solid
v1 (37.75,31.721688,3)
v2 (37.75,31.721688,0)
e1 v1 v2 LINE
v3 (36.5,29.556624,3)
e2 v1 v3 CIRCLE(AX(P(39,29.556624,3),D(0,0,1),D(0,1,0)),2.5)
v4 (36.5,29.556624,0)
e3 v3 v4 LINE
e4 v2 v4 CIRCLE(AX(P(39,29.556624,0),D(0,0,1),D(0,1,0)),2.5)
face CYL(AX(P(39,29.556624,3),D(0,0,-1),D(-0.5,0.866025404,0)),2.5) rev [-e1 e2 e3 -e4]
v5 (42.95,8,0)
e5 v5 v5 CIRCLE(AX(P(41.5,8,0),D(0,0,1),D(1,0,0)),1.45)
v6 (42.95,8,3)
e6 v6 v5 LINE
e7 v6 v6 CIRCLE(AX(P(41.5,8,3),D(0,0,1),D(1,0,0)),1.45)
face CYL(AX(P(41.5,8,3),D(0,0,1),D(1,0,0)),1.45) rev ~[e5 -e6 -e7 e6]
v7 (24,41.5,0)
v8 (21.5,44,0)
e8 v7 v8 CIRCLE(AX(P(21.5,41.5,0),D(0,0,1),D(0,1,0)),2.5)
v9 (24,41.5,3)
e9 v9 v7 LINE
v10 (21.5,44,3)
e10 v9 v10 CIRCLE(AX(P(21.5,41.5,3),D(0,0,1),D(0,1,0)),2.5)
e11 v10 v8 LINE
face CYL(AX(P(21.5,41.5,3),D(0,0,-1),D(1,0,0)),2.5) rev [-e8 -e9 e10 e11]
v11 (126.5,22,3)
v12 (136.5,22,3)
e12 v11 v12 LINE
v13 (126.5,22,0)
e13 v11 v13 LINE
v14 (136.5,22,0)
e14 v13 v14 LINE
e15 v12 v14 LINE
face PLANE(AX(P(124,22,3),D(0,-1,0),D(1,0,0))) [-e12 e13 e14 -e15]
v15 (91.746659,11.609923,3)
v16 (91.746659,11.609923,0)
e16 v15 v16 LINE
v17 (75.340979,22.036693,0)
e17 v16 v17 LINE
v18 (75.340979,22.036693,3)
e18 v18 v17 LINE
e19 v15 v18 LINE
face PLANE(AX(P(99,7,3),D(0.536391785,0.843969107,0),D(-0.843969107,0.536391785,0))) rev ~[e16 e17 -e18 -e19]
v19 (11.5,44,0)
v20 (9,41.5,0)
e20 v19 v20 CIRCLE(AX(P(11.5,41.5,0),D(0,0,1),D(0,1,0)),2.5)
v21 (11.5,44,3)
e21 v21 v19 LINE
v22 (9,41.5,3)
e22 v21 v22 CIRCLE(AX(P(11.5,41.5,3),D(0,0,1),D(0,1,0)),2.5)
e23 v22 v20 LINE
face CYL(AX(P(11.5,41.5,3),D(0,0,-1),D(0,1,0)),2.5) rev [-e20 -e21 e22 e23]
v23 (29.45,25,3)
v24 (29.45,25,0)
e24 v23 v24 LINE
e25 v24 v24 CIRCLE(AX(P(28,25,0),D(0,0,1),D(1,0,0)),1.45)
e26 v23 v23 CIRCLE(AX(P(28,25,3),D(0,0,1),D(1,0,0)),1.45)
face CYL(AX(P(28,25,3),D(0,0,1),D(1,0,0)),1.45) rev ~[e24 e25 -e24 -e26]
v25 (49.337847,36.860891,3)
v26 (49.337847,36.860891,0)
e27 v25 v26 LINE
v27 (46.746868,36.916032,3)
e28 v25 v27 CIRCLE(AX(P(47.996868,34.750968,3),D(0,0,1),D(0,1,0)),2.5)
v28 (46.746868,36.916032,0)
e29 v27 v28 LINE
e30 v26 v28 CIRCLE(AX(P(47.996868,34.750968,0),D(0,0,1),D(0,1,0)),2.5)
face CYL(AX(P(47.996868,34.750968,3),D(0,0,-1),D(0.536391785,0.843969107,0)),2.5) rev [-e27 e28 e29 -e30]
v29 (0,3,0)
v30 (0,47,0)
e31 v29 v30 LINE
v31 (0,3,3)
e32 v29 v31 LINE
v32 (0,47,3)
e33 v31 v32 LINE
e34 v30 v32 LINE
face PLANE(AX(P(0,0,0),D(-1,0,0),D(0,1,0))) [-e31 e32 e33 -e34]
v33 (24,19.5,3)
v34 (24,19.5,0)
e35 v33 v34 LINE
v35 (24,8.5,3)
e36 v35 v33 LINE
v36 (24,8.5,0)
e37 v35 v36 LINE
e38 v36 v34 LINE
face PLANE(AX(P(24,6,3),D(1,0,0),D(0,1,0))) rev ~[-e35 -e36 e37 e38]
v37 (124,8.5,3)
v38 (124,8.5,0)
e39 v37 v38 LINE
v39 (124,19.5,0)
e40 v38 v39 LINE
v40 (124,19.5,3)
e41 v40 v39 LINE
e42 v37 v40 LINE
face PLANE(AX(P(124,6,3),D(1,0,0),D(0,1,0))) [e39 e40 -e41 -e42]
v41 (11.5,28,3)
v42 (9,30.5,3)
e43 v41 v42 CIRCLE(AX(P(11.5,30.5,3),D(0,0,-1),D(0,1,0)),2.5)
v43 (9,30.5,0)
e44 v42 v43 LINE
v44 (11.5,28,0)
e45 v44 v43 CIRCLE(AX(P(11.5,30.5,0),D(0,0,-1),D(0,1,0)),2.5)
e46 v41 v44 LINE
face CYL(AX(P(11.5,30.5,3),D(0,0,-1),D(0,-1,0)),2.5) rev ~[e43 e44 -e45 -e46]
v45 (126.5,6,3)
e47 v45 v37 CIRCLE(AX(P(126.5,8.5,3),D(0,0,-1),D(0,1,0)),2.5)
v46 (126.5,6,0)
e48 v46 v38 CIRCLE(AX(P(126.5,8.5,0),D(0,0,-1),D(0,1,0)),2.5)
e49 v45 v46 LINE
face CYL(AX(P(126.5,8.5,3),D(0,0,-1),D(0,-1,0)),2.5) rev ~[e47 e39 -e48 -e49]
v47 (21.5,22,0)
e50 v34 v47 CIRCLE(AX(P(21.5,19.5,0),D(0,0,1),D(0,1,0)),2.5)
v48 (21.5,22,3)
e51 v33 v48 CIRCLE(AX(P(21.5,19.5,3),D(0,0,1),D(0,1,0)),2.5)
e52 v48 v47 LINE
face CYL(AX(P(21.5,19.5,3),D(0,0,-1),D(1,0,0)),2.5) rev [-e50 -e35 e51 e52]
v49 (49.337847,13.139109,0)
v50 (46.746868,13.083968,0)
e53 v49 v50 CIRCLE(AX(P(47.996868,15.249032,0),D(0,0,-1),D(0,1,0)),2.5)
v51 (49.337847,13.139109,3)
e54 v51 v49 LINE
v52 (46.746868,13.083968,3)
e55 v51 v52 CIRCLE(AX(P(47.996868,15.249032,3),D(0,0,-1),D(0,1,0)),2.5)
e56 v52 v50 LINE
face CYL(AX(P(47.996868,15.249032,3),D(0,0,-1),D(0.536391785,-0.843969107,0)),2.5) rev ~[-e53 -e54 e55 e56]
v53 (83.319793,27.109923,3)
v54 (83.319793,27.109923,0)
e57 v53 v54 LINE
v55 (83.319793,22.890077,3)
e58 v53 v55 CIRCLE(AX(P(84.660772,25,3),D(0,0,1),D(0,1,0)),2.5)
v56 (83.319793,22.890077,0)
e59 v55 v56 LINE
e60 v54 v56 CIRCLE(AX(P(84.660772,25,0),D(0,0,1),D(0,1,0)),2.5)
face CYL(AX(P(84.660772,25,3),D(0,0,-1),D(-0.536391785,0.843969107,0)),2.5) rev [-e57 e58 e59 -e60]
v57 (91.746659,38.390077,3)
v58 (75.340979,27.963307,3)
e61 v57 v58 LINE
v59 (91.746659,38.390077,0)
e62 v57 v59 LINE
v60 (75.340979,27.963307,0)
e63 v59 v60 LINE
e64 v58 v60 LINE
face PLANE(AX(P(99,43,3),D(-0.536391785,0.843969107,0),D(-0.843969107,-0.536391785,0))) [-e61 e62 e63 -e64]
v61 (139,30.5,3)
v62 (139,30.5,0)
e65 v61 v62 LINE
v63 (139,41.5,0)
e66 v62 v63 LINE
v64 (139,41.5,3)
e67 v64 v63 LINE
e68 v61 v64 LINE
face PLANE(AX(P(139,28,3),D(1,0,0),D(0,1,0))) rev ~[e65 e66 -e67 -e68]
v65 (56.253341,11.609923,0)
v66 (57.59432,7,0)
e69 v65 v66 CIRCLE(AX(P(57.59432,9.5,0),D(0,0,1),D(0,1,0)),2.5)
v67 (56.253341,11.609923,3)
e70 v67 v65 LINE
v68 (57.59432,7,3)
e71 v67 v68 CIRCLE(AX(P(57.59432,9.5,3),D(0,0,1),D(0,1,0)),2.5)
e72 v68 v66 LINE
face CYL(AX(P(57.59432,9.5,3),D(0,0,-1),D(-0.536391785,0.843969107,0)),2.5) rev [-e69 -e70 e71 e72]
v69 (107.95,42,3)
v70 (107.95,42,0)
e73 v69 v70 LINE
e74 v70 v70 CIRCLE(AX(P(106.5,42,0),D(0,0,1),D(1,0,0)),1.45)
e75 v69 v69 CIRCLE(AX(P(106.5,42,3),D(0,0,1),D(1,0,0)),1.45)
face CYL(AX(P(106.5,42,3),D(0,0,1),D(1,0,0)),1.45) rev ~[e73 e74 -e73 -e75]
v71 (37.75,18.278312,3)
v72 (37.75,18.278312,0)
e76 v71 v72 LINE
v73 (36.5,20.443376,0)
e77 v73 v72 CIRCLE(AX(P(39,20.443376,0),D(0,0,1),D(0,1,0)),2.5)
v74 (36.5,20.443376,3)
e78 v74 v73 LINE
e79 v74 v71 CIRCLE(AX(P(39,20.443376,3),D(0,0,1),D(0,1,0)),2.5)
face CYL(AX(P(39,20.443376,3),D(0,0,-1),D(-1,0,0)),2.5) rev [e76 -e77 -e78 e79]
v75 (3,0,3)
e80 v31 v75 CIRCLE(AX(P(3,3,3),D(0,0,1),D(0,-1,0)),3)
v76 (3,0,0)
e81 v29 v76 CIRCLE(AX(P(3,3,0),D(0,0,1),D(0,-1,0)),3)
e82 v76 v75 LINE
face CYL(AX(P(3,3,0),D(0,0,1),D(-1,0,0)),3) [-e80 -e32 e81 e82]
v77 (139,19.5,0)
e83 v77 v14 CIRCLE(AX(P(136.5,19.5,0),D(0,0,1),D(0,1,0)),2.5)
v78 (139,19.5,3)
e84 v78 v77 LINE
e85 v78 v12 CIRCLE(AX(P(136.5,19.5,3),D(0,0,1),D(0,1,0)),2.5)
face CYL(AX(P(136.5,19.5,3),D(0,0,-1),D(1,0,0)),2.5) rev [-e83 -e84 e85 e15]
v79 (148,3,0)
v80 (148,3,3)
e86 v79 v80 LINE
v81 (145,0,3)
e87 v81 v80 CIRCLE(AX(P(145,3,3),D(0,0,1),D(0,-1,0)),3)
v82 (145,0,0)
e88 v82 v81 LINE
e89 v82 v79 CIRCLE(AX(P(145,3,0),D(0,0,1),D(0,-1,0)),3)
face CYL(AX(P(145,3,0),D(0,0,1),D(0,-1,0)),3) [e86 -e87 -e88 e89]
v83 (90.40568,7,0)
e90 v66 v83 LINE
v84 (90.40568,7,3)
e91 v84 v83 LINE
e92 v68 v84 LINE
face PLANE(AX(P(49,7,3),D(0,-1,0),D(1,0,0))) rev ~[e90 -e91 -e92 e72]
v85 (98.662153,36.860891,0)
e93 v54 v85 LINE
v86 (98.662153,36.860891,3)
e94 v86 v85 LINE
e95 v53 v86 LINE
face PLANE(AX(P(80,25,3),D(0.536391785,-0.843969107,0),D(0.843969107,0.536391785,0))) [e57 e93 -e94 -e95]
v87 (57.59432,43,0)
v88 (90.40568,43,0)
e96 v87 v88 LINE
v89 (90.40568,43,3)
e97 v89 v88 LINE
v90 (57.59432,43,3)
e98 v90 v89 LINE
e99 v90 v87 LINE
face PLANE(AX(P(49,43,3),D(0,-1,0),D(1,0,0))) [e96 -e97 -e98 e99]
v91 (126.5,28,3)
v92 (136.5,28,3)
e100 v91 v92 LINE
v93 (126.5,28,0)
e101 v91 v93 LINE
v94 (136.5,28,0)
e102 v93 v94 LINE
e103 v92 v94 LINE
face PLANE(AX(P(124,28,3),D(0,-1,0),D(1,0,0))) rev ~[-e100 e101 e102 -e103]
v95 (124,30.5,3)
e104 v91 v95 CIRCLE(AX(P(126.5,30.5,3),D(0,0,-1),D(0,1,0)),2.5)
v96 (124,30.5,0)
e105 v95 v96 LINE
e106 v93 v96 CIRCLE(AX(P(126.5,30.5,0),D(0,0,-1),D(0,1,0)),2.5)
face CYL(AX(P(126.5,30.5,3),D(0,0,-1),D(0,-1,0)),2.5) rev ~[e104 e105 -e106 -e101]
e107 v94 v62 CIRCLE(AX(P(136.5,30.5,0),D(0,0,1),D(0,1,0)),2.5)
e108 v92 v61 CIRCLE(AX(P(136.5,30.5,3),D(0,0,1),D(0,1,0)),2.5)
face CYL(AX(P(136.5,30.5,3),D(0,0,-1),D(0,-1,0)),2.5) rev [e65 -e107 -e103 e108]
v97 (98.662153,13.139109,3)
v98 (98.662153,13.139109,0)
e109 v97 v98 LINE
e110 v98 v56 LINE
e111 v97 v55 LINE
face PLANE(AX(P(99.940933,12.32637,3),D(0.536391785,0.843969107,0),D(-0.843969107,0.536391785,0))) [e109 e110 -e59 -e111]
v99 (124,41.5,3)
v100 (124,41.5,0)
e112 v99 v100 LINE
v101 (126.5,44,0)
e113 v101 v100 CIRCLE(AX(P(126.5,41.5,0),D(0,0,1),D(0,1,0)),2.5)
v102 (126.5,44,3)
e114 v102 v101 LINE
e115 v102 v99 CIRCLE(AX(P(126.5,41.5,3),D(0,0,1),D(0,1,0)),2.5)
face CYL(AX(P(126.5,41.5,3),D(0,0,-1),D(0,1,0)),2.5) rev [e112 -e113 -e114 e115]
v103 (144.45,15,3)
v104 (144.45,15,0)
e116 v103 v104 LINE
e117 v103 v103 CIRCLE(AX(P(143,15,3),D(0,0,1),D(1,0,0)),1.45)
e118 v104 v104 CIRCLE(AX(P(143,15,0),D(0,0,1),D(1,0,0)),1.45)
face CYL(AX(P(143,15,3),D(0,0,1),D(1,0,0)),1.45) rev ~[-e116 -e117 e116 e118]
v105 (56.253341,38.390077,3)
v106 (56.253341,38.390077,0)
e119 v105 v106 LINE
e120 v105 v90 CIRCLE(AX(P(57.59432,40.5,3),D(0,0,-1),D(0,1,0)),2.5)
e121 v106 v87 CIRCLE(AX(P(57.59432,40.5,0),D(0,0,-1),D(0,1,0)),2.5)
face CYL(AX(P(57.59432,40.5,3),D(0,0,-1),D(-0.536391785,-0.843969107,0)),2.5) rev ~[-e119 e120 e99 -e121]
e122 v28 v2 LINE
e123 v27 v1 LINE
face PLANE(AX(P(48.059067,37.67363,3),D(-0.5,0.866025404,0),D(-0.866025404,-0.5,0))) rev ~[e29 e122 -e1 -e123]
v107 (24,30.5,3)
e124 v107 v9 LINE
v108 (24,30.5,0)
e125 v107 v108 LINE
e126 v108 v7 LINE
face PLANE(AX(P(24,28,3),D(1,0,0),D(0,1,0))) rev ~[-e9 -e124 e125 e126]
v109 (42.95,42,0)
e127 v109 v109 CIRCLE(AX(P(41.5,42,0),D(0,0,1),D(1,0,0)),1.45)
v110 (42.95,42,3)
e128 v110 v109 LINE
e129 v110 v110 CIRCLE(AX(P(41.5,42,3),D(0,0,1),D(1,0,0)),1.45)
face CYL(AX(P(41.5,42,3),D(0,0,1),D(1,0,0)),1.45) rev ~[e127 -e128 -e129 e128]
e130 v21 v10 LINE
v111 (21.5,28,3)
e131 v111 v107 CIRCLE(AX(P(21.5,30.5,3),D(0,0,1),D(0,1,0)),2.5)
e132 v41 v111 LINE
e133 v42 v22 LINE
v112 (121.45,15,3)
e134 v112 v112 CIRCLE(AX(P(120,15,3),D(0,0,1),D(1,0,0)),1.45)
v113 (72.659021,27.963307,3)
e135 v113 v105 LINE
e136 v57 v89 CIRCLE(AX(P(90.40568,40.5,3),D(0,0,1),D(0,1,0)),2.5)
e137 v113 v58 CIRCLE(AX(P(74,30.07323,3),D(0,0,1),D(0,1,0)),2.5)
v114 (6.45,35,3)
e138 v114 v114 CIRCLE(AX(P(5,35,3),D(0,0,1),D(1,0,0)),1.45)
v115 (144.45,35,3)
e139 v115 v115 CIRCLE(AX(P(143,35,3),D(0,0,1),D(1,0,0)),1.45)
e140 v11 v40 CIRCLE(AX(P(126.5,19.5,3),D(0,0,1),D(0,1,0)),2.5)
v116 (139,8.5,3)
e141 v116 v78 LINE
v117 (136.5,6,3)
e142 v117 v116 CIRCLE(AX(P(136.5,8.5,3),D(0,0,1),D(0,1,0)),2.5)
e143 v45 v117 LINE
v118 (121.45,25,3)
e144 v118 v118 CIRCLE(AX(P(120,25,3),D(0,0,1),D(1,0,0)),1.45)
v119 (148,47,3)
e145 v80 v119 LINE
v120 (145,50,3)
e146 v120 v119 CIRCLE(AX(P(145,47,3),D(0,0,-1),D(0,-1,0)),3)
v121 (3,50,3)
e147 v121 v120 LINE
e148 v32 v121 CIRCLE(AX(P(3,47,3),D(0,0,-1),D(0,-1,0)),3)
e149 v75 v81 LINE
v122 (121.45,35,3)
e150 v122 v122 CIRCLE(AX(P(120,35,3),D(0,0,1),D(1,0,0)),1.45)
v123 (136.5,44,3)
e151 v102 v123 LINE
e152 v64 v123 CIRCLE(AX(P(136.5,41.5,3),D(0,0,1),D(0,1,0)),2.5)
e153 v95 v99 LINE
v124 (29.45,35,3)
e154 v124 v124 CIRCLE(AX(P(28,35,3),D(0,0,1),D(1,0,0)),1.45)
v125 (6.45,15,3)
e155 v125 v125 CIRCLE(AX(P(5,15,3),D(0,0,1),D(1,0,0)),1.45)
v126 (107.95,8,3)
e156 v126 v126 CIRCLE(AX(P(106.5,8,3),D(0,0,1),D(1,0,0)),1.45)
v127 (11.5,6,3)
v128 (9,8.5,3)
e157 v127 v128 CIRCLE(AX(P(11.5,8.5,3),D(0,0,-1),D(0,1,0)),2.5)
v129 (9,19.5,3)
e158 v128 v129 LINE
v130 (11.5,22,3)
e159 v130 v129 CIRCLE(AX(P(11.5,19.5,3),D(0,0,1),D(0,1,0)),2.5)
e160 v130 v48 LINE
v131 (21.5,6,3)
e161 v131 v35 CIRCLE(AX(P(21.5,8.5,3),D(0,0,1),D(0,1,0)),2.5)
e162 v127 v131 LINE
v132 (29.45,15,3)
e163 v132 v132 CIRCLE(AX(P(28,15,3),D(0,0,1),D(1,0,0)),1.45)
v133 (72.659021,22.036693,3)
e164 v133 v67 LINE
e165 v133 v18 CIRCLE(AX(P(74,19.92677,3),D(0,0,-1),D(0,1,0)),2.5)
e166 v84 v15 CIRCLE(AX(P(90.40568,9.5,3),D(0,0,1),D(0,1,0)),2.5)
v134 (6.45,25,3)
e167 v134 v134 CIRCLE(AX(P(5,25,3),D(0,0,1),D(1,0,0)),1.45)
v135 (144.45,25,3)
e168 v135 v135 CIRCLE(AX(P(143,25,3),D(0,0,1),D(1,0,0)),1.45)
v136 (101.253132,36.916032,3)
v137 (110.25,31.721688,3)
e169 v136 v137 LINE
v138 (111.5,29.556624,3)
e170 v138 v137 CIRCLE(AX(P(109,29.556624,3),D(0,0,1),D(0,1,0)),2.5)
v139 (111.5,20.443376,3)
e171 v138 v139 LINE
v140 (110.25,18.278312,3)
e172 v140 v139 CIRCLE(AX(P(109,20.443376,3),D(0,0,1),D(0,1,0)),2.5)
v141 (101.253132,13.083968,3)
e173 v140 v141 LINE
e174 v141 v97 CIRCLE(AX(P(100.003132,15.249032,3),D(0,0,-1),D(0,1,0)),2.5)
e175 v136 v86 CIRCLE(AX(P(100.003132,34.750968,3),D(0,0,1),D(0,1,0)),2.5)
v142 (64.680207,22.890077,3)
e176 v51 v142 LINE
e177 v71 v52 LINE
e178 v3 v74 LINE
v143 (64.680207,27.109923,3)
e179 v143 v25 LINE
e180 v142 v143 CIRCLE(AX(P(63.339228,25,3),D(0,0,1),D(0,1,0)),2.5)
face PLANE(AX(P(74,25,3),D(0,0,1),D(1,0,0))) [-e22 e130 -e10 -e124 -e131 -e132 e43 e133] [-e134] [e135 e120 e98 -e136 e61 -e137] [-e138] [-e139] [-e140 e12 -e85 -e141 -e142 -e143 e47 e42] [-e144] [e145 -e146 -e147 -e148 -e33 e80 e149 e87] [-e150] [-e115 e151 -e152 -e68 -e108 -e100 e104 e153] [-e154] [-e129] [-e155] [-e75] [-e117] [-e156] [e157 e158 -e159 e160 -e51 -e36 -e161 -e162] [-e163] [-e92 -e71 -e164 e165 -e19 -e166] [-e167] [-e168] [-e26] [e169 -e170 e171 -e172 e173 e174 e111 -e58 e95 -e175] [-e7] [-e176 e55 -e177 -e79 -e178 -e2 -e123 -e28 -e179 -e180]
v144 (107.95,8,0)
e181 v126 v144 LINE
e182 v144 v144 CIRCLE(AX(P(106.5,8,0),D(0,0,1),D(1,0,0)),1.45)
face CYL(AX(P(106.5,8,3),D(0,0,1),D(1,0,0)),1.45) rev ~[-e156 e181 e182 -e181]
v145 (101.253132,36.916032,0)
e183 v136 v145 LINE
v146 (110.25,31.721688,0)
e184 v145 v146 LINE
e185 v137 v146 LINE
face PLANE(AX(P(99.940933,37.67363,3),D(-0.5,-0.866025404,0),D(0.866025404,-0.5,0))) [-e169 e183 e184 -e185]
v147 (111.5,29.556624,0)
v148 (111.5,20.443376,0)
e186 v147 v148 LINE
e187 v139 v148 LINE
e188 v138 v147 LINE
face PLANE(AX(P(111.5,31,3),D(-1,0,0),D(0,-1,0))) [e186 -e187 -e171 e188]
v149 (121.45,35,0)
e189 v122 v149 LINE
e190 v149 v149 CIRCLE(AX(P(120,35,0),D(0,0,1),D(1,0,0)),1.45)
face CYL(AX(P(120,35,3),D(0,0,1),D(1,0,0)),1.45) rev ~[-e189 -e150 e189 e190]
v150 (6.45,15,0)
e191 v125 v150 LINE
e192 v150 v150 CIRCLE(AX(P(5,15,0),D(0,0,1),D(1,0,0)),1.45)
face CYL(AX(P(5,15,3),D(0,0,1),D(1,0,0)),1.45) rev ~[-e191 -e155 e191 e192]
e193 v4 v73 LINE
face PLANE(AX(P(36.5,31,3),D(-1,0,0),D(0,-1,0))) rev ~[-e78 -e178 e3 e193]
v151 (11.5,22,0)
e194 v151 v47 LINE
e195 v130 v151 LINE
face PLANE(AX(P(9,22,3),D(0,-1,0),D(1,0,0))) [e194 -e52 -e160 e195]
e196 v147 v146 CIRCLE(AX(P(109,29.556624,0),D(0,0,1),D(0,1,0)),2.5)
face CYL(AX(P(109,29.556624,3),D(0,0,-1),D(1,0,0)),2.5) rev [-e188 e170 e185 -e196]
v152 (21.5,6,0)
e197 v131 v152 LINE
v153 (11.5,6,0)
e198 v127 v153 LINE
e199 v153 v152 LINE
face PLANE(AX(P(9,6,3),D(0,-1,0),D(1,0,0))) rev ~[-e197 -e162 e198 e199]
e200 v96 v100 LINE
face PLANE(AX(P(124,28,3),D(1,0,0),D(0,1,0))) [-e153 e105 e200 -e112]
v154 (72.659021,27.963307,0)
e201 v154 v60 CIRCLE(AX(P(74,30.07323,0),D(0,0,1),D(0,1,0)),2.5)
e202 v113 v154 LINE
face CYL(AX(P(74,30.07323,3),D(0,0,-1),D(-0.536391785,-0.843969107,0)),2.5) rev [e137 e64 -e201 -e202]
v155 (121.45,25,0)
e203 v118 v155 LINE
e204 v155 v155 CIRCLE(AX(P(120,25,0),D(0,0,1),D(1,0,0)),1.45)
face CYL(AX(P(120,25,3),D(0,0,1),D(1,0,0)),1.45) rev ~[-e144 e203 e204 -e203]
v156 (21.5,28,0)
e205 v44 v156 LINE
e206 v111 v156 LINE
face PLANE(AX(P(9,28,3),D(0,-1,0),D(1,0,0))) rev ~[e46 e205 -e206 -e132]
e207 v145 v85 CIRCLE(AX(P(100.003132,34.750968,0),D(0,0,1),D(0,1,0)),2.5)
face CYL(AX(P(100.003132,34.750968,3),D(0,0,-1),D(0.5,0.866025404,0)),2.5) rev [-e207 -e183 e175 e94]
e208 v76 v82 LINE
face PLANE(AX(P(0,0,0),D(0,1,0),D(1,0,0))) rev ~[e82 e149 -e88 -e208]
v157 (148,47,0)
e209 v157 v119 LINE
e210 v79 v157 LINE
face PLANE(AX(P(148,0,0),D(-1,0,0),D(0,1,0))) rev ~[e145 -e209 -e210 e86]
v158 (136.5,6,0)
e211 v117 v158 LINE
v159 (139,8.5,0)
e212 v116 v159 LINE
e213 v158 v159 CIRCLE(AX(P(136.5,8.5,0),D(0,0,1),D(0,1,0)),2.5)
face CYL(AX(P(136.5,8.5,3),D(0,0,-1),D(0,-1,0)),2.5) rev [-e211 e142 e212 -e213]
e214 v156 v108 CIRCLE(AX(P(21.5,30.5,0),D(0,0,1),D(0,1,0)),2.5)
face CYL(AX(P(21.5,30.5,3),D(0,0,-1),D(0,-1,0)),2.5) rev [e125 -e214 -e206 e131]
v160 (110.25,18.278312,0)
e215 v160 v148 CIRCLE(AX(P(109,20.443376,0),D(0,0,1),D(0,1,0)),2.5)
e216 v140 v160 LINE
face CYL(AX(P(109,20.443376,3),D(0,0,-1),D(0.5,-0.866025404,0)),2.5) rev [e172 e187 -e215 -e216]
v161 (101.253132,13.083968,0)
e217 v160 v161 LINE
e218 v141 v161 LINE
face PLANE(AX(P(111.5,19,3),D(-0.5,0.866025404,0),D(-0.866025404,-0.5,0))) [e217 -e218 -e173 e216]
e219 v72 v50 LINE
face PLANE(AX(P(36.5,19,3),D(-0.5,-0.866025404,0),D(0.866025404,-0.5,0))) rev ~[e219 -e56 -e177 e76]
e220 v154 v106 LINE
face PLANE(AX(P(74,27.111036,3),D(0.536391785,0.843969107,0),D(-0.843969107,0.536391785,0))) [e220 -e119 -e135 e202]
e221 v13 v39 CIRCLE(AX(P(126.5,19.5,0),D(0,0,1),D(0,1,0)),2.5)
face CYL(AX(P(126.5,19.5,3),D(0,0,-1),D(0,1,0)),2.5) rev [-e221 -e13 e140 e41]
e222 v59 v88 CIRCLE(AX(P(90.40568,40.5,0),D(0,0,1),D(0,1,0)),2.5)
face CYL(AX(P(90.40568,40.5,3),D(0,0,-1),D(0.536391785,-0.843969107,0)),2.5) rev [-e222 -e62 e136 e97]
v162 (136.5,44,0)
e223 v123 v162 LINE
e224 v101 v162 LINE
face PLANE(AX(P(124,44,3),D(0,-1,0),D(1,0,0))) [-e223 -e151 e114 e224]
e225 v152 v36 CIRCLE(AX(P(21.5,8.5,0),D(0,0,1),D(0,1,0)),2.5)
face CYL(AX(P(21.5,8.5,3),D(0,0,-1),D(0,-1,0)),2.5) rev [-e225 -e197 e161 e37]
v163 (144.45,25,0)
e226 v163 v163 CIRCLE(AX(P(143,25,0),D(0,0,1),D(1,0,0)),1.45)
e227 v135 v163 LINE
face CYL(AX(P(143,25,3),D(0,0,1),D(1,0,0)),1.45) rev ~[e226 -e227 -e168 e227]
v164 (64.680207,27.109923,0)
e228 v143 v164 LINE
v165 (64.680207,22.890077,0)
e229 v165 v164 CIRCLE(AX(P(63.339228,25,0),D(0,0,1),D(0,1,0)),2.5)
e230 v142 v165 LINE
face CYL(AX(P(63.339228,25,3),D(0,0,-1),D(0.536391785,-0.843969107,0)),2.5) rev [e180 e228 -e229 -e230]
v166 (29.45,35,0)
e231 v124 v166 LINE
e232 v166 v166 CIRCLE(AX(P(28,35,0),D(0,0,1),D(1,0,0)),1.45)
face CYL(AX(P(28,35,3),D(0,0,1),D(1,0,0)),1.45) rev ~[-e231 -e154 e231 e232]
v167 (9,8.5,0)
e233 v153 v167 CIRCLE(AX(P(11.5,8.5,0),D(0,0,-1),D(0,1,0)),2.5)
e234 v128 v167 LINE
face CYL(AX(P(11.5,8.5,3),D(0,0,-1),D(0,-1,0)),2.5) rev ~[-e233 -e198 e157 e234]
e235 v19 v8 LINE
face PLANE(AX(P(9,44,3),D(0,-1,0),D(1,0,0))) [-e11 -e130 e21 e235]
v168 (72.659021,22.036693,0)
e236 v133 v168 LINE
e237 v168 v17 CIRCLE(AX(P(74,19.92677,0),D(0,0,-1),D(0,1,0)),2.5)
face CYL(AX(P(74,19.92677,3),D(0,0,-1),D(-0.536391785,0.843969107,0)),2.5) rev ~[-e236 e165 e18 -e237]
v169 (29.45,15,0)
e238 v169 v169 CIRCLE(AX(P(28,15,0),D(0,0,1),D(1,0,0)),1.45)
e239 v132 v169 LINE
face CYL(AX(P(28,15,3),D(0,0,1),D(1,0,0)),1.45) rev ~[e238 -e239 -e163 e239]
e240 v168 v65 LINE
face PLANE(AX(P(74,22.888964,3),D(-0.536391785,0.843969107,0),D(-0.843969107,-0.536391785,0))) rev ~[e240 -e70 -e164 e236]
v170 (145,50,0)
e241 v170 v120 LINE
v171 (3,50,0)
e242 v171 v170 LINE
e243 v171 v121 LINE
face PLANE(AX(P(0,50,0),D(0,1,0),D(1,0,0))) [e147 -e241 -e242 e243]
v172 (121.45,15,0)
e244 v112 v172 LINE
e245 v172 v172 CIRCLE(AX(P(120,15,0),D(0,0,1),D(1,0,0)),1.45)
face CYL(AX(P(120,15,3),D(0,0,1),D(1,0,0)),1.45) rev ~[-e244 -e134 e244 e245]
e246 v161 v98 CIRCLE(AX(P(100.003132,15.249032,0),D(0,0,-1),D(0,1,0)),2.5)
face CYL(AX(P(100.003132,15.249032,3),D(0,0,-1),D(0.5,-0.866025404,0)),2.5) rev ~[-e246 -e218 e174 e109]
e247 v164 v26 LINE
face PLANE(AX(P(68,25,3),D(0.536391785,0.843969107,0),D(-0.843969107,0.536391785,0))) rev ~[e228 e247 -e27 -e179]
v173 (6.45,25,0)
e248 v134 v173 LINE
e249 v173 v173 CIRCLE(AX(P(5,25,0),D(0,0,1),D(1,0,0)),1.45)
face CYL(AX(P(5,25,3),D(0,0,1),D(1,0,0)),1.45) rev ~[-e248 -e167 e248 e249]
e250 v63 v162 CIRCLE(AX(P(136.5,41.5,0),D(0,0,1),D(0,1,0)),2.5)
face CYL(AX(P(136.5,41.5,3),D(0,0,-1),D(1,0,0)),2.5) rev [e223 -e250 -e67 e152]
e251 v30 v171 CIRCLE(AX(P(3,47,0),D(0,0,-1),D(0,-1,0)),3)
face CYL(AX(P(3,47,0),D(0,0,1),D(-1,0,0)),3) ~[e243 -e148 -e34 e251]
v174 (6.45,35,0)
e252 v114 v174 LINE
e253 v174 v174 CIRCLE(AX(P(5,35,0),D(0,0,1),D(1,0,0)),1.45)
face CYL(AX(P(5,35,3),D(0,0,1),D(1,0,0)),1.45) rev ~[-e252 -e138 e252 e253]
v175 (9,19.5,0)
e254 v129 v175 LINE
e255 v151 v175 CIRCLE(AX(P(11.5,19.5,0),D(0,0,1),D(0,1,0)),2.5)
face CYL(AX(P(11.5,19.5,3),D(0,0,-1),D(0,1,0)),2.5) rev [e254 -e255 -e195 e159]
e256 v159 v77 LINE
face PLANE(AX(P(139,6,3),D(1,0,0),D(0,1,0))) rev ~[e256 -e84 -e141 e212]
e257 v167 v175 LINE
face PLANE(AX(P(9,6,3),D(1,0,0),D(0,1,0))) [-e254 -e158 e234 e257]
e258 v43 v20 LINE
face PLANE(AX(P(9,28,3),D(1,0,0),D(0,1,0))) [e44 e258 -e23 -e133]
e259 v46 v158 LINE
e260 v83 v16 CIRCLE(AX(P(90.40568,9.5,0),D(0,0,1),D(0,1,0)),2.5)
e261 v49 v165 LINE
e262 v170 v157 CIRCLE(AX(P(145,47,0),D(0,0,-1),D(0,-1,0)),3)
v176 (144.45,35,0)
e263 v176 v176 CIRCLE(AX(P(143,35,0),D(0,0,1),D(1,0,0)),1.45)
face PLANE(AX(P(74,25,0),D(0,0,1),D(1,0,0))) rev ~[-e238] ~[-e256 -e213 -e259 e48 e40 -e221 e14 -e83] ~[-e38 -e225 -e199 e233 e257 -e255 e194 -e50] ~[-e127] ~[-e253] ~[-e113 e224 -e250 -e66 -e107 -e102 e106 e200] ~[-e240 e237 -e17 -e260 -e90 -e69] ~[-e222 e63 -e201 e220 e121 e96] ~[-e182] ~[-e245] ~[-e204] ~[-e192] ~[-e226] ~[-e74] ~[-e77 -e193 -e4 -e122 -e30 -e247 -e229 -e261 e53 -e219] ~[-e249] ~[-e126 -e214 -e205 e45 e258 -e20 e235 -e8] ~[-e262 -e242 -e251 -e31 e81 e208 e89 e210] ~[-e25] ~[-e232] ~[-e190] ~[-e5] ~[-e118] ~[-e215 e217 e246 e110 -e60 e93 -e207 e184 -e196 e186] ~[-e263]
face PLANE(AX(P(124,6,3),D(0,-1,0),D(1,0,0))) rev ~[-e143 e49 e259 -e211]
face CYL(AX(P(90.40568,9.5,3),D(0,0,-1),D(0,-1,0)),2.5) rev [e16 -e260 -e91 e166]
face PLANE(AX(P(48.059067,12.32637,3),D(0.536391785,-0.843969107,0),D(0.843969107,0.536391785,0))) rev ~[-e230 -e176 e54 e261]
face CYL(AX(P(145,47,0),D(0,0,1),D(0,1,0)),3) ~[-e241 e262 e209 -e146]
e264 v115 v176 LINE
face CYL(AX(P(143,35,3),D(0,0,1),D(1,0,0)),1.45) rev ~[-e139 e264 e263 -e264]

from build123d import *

# Parameters (mm, degrees)
SKETCH_1_W          = 148
SKETCH_1_H          = 50
EXTRUDE_1_DEPTH     = 3
SKETCH_2_R          = 1.45
CUT_EXTRUDE_1_DEPTH = 157.246599963
SKETCH_3_W          = 15
SKETCH_3_H          = 16
CUT_EXTRUDE_2_DEPTH = 10
FILLET_1_R          = 3
FILLET_2_R          = 2.5


with BuildPart() as part:
    # 草图1 → 凸台-拉伸1 (new body)
    with BuildSketch(Plane.XY):
        with Locations((74, 25)):
            Rectangle(SKETCH_1_W, SKETCH_1_H)
    extrude(amount=EXTRUDE_1_DEPTH)

    # 草图2 → 切除-拉伸1 (cut, through all)
    with BuildSketch(Plane.XY.offset(3)):
        with Locations((5, 35)):
            Circle(SKETCH_2_R)
        with Locations((5, 25)):
            Circle(SKETCH_2_R)
        with Locations((5, 15)):
            Circle(SKETCH_2_R)
        with Locations((28, 15)):
            Circle(SKETCH_2_R)
        with Locations((28, 25)):
            Circle(SKETCH_2_R)
        with Locations((28, 35)):
            Circle(SKETCH_2_R)
        with Locations((120, 35)):
            Circle(SKETCH_2_R)
        with Locations((120, 25)):
            Circle(SKETCH_2_R)
        with Locations((120, 15)):
            Circle(SKETCH_2_R)
        with Locations((143, 15)):
            Circle(SKETCH_2_R)
        with Locations((143, 25)):
            Circle(SKETCH_2_R)
        with Locations((143, 35)):
            Circle(SKETCH_2_R)
        with Locations((41.5, 42)):
            Circle(SKETCH_2_R)
        with Locations((106.5, 42)):
            Circle(SKETCH_2_R)
        with Locations((106.5, 8)):
            Circle(SKETCH_2_R)
        with Locations((41.5, 8)):
            Circle(SKETCH_2_R)
    extrude(amount=-CUT_EXTRUDE_1_DEPTH, mode=Mode.SUBTRACT)

    # 草图3 → 切除-拉伸2 (cut)
    with BuildSketch(Plane.XY.offset(3)):
        Polygon((49, 43), (99, 43), (74, 27.111036145), align=None)
        Polygon((48.059067085, 12.326369507), (68, 25), (48.059067085, 37.673630493), (36.5, 31), (36.5, 19), align=None)
        Polygon((99.940932915, 12.326369507), (80, 25), (99.940932915, 37.673630493), (111.5, 31), (111.5, 19), align=None)
        Polygon((74, 22.888963855), (49, 7), (99, 7), align=None)
        with Locations((16.5, 36)):
            Rectangle(SKETCH_3_W, SKETCH_3_H)
        with Locations((16.5, 14)):
            Rectangle(SKETCH_3_W, SKETCH_3_H)
        with Locations((131.5, 36)):
            Rectangle(SKETCH_3_W, SKETCH_3_H)
        with Locations((131.5, 14)):
            Rectangle(SKETCH_3_W, SKETCH_3_H)
    extrude(amount=-CUT_EXTRUDE_2_DEPTH, mode=Mode.SUBTRACT)

    # 圆角1
    fillet_1_edges = [part.edges().sort_by_distance(p)[0] for p in [
        (0, 50, 1.5),
        (148, 50, 1.5),
        (148, 0, 1.5),
        (0, 0, 1.5),
    ]]
    fillet(fillet_1_edges, radius=FILLET_1_R)

    # 圆角2
    fillet_2_edges = [part.edges().sort_by_distance(p)[0] for p in [
        (9, 6, 1.5),
        (9, 22, 1.5),
        (24, 22, 1.5),
        (24, 6, 1.5),
        (74, 22.888963855, 1.5),
        (99, 7, 1.5),
        (49, 7, 1.5),
        (99.940932915, 37.673630493, 1.5),
        (111.5, 31, 1.5),
        (111.5, 19, 1.5),
        (99.940932915, 12.326369507, 1.5),
        (80, 25, 1.5),
        (36.5, 31, 1.5),
        (48.059067085, 37.673630493, 1.5),
        (68, 25, 1.5),
        (48.059067085, 12.326369507, 1.5),
        (36.5, 19, 1.5),
        (124, 28, 1.5),
        (124, 44, 1.5),
        (139, 44, 1.5),
        (139, 28, 1.5),
        (9, 28, 1.5),
        (9, 44, 1.5),
        (24, 44, 1.5),
        (24, 28, 1.5),
        (124, 6, 1.5),
        (124, 22, 1.5),
        (139, 22, 1.5),
        (139, 6, 1.5),
        (74, 27.111036145, 1.5),
        (49, 43, 1.5),
        (99, 43, 1.5),
    ]]
    fillet(fillet_2_edges, radius=FILLET_2_R)


solid = part.part
